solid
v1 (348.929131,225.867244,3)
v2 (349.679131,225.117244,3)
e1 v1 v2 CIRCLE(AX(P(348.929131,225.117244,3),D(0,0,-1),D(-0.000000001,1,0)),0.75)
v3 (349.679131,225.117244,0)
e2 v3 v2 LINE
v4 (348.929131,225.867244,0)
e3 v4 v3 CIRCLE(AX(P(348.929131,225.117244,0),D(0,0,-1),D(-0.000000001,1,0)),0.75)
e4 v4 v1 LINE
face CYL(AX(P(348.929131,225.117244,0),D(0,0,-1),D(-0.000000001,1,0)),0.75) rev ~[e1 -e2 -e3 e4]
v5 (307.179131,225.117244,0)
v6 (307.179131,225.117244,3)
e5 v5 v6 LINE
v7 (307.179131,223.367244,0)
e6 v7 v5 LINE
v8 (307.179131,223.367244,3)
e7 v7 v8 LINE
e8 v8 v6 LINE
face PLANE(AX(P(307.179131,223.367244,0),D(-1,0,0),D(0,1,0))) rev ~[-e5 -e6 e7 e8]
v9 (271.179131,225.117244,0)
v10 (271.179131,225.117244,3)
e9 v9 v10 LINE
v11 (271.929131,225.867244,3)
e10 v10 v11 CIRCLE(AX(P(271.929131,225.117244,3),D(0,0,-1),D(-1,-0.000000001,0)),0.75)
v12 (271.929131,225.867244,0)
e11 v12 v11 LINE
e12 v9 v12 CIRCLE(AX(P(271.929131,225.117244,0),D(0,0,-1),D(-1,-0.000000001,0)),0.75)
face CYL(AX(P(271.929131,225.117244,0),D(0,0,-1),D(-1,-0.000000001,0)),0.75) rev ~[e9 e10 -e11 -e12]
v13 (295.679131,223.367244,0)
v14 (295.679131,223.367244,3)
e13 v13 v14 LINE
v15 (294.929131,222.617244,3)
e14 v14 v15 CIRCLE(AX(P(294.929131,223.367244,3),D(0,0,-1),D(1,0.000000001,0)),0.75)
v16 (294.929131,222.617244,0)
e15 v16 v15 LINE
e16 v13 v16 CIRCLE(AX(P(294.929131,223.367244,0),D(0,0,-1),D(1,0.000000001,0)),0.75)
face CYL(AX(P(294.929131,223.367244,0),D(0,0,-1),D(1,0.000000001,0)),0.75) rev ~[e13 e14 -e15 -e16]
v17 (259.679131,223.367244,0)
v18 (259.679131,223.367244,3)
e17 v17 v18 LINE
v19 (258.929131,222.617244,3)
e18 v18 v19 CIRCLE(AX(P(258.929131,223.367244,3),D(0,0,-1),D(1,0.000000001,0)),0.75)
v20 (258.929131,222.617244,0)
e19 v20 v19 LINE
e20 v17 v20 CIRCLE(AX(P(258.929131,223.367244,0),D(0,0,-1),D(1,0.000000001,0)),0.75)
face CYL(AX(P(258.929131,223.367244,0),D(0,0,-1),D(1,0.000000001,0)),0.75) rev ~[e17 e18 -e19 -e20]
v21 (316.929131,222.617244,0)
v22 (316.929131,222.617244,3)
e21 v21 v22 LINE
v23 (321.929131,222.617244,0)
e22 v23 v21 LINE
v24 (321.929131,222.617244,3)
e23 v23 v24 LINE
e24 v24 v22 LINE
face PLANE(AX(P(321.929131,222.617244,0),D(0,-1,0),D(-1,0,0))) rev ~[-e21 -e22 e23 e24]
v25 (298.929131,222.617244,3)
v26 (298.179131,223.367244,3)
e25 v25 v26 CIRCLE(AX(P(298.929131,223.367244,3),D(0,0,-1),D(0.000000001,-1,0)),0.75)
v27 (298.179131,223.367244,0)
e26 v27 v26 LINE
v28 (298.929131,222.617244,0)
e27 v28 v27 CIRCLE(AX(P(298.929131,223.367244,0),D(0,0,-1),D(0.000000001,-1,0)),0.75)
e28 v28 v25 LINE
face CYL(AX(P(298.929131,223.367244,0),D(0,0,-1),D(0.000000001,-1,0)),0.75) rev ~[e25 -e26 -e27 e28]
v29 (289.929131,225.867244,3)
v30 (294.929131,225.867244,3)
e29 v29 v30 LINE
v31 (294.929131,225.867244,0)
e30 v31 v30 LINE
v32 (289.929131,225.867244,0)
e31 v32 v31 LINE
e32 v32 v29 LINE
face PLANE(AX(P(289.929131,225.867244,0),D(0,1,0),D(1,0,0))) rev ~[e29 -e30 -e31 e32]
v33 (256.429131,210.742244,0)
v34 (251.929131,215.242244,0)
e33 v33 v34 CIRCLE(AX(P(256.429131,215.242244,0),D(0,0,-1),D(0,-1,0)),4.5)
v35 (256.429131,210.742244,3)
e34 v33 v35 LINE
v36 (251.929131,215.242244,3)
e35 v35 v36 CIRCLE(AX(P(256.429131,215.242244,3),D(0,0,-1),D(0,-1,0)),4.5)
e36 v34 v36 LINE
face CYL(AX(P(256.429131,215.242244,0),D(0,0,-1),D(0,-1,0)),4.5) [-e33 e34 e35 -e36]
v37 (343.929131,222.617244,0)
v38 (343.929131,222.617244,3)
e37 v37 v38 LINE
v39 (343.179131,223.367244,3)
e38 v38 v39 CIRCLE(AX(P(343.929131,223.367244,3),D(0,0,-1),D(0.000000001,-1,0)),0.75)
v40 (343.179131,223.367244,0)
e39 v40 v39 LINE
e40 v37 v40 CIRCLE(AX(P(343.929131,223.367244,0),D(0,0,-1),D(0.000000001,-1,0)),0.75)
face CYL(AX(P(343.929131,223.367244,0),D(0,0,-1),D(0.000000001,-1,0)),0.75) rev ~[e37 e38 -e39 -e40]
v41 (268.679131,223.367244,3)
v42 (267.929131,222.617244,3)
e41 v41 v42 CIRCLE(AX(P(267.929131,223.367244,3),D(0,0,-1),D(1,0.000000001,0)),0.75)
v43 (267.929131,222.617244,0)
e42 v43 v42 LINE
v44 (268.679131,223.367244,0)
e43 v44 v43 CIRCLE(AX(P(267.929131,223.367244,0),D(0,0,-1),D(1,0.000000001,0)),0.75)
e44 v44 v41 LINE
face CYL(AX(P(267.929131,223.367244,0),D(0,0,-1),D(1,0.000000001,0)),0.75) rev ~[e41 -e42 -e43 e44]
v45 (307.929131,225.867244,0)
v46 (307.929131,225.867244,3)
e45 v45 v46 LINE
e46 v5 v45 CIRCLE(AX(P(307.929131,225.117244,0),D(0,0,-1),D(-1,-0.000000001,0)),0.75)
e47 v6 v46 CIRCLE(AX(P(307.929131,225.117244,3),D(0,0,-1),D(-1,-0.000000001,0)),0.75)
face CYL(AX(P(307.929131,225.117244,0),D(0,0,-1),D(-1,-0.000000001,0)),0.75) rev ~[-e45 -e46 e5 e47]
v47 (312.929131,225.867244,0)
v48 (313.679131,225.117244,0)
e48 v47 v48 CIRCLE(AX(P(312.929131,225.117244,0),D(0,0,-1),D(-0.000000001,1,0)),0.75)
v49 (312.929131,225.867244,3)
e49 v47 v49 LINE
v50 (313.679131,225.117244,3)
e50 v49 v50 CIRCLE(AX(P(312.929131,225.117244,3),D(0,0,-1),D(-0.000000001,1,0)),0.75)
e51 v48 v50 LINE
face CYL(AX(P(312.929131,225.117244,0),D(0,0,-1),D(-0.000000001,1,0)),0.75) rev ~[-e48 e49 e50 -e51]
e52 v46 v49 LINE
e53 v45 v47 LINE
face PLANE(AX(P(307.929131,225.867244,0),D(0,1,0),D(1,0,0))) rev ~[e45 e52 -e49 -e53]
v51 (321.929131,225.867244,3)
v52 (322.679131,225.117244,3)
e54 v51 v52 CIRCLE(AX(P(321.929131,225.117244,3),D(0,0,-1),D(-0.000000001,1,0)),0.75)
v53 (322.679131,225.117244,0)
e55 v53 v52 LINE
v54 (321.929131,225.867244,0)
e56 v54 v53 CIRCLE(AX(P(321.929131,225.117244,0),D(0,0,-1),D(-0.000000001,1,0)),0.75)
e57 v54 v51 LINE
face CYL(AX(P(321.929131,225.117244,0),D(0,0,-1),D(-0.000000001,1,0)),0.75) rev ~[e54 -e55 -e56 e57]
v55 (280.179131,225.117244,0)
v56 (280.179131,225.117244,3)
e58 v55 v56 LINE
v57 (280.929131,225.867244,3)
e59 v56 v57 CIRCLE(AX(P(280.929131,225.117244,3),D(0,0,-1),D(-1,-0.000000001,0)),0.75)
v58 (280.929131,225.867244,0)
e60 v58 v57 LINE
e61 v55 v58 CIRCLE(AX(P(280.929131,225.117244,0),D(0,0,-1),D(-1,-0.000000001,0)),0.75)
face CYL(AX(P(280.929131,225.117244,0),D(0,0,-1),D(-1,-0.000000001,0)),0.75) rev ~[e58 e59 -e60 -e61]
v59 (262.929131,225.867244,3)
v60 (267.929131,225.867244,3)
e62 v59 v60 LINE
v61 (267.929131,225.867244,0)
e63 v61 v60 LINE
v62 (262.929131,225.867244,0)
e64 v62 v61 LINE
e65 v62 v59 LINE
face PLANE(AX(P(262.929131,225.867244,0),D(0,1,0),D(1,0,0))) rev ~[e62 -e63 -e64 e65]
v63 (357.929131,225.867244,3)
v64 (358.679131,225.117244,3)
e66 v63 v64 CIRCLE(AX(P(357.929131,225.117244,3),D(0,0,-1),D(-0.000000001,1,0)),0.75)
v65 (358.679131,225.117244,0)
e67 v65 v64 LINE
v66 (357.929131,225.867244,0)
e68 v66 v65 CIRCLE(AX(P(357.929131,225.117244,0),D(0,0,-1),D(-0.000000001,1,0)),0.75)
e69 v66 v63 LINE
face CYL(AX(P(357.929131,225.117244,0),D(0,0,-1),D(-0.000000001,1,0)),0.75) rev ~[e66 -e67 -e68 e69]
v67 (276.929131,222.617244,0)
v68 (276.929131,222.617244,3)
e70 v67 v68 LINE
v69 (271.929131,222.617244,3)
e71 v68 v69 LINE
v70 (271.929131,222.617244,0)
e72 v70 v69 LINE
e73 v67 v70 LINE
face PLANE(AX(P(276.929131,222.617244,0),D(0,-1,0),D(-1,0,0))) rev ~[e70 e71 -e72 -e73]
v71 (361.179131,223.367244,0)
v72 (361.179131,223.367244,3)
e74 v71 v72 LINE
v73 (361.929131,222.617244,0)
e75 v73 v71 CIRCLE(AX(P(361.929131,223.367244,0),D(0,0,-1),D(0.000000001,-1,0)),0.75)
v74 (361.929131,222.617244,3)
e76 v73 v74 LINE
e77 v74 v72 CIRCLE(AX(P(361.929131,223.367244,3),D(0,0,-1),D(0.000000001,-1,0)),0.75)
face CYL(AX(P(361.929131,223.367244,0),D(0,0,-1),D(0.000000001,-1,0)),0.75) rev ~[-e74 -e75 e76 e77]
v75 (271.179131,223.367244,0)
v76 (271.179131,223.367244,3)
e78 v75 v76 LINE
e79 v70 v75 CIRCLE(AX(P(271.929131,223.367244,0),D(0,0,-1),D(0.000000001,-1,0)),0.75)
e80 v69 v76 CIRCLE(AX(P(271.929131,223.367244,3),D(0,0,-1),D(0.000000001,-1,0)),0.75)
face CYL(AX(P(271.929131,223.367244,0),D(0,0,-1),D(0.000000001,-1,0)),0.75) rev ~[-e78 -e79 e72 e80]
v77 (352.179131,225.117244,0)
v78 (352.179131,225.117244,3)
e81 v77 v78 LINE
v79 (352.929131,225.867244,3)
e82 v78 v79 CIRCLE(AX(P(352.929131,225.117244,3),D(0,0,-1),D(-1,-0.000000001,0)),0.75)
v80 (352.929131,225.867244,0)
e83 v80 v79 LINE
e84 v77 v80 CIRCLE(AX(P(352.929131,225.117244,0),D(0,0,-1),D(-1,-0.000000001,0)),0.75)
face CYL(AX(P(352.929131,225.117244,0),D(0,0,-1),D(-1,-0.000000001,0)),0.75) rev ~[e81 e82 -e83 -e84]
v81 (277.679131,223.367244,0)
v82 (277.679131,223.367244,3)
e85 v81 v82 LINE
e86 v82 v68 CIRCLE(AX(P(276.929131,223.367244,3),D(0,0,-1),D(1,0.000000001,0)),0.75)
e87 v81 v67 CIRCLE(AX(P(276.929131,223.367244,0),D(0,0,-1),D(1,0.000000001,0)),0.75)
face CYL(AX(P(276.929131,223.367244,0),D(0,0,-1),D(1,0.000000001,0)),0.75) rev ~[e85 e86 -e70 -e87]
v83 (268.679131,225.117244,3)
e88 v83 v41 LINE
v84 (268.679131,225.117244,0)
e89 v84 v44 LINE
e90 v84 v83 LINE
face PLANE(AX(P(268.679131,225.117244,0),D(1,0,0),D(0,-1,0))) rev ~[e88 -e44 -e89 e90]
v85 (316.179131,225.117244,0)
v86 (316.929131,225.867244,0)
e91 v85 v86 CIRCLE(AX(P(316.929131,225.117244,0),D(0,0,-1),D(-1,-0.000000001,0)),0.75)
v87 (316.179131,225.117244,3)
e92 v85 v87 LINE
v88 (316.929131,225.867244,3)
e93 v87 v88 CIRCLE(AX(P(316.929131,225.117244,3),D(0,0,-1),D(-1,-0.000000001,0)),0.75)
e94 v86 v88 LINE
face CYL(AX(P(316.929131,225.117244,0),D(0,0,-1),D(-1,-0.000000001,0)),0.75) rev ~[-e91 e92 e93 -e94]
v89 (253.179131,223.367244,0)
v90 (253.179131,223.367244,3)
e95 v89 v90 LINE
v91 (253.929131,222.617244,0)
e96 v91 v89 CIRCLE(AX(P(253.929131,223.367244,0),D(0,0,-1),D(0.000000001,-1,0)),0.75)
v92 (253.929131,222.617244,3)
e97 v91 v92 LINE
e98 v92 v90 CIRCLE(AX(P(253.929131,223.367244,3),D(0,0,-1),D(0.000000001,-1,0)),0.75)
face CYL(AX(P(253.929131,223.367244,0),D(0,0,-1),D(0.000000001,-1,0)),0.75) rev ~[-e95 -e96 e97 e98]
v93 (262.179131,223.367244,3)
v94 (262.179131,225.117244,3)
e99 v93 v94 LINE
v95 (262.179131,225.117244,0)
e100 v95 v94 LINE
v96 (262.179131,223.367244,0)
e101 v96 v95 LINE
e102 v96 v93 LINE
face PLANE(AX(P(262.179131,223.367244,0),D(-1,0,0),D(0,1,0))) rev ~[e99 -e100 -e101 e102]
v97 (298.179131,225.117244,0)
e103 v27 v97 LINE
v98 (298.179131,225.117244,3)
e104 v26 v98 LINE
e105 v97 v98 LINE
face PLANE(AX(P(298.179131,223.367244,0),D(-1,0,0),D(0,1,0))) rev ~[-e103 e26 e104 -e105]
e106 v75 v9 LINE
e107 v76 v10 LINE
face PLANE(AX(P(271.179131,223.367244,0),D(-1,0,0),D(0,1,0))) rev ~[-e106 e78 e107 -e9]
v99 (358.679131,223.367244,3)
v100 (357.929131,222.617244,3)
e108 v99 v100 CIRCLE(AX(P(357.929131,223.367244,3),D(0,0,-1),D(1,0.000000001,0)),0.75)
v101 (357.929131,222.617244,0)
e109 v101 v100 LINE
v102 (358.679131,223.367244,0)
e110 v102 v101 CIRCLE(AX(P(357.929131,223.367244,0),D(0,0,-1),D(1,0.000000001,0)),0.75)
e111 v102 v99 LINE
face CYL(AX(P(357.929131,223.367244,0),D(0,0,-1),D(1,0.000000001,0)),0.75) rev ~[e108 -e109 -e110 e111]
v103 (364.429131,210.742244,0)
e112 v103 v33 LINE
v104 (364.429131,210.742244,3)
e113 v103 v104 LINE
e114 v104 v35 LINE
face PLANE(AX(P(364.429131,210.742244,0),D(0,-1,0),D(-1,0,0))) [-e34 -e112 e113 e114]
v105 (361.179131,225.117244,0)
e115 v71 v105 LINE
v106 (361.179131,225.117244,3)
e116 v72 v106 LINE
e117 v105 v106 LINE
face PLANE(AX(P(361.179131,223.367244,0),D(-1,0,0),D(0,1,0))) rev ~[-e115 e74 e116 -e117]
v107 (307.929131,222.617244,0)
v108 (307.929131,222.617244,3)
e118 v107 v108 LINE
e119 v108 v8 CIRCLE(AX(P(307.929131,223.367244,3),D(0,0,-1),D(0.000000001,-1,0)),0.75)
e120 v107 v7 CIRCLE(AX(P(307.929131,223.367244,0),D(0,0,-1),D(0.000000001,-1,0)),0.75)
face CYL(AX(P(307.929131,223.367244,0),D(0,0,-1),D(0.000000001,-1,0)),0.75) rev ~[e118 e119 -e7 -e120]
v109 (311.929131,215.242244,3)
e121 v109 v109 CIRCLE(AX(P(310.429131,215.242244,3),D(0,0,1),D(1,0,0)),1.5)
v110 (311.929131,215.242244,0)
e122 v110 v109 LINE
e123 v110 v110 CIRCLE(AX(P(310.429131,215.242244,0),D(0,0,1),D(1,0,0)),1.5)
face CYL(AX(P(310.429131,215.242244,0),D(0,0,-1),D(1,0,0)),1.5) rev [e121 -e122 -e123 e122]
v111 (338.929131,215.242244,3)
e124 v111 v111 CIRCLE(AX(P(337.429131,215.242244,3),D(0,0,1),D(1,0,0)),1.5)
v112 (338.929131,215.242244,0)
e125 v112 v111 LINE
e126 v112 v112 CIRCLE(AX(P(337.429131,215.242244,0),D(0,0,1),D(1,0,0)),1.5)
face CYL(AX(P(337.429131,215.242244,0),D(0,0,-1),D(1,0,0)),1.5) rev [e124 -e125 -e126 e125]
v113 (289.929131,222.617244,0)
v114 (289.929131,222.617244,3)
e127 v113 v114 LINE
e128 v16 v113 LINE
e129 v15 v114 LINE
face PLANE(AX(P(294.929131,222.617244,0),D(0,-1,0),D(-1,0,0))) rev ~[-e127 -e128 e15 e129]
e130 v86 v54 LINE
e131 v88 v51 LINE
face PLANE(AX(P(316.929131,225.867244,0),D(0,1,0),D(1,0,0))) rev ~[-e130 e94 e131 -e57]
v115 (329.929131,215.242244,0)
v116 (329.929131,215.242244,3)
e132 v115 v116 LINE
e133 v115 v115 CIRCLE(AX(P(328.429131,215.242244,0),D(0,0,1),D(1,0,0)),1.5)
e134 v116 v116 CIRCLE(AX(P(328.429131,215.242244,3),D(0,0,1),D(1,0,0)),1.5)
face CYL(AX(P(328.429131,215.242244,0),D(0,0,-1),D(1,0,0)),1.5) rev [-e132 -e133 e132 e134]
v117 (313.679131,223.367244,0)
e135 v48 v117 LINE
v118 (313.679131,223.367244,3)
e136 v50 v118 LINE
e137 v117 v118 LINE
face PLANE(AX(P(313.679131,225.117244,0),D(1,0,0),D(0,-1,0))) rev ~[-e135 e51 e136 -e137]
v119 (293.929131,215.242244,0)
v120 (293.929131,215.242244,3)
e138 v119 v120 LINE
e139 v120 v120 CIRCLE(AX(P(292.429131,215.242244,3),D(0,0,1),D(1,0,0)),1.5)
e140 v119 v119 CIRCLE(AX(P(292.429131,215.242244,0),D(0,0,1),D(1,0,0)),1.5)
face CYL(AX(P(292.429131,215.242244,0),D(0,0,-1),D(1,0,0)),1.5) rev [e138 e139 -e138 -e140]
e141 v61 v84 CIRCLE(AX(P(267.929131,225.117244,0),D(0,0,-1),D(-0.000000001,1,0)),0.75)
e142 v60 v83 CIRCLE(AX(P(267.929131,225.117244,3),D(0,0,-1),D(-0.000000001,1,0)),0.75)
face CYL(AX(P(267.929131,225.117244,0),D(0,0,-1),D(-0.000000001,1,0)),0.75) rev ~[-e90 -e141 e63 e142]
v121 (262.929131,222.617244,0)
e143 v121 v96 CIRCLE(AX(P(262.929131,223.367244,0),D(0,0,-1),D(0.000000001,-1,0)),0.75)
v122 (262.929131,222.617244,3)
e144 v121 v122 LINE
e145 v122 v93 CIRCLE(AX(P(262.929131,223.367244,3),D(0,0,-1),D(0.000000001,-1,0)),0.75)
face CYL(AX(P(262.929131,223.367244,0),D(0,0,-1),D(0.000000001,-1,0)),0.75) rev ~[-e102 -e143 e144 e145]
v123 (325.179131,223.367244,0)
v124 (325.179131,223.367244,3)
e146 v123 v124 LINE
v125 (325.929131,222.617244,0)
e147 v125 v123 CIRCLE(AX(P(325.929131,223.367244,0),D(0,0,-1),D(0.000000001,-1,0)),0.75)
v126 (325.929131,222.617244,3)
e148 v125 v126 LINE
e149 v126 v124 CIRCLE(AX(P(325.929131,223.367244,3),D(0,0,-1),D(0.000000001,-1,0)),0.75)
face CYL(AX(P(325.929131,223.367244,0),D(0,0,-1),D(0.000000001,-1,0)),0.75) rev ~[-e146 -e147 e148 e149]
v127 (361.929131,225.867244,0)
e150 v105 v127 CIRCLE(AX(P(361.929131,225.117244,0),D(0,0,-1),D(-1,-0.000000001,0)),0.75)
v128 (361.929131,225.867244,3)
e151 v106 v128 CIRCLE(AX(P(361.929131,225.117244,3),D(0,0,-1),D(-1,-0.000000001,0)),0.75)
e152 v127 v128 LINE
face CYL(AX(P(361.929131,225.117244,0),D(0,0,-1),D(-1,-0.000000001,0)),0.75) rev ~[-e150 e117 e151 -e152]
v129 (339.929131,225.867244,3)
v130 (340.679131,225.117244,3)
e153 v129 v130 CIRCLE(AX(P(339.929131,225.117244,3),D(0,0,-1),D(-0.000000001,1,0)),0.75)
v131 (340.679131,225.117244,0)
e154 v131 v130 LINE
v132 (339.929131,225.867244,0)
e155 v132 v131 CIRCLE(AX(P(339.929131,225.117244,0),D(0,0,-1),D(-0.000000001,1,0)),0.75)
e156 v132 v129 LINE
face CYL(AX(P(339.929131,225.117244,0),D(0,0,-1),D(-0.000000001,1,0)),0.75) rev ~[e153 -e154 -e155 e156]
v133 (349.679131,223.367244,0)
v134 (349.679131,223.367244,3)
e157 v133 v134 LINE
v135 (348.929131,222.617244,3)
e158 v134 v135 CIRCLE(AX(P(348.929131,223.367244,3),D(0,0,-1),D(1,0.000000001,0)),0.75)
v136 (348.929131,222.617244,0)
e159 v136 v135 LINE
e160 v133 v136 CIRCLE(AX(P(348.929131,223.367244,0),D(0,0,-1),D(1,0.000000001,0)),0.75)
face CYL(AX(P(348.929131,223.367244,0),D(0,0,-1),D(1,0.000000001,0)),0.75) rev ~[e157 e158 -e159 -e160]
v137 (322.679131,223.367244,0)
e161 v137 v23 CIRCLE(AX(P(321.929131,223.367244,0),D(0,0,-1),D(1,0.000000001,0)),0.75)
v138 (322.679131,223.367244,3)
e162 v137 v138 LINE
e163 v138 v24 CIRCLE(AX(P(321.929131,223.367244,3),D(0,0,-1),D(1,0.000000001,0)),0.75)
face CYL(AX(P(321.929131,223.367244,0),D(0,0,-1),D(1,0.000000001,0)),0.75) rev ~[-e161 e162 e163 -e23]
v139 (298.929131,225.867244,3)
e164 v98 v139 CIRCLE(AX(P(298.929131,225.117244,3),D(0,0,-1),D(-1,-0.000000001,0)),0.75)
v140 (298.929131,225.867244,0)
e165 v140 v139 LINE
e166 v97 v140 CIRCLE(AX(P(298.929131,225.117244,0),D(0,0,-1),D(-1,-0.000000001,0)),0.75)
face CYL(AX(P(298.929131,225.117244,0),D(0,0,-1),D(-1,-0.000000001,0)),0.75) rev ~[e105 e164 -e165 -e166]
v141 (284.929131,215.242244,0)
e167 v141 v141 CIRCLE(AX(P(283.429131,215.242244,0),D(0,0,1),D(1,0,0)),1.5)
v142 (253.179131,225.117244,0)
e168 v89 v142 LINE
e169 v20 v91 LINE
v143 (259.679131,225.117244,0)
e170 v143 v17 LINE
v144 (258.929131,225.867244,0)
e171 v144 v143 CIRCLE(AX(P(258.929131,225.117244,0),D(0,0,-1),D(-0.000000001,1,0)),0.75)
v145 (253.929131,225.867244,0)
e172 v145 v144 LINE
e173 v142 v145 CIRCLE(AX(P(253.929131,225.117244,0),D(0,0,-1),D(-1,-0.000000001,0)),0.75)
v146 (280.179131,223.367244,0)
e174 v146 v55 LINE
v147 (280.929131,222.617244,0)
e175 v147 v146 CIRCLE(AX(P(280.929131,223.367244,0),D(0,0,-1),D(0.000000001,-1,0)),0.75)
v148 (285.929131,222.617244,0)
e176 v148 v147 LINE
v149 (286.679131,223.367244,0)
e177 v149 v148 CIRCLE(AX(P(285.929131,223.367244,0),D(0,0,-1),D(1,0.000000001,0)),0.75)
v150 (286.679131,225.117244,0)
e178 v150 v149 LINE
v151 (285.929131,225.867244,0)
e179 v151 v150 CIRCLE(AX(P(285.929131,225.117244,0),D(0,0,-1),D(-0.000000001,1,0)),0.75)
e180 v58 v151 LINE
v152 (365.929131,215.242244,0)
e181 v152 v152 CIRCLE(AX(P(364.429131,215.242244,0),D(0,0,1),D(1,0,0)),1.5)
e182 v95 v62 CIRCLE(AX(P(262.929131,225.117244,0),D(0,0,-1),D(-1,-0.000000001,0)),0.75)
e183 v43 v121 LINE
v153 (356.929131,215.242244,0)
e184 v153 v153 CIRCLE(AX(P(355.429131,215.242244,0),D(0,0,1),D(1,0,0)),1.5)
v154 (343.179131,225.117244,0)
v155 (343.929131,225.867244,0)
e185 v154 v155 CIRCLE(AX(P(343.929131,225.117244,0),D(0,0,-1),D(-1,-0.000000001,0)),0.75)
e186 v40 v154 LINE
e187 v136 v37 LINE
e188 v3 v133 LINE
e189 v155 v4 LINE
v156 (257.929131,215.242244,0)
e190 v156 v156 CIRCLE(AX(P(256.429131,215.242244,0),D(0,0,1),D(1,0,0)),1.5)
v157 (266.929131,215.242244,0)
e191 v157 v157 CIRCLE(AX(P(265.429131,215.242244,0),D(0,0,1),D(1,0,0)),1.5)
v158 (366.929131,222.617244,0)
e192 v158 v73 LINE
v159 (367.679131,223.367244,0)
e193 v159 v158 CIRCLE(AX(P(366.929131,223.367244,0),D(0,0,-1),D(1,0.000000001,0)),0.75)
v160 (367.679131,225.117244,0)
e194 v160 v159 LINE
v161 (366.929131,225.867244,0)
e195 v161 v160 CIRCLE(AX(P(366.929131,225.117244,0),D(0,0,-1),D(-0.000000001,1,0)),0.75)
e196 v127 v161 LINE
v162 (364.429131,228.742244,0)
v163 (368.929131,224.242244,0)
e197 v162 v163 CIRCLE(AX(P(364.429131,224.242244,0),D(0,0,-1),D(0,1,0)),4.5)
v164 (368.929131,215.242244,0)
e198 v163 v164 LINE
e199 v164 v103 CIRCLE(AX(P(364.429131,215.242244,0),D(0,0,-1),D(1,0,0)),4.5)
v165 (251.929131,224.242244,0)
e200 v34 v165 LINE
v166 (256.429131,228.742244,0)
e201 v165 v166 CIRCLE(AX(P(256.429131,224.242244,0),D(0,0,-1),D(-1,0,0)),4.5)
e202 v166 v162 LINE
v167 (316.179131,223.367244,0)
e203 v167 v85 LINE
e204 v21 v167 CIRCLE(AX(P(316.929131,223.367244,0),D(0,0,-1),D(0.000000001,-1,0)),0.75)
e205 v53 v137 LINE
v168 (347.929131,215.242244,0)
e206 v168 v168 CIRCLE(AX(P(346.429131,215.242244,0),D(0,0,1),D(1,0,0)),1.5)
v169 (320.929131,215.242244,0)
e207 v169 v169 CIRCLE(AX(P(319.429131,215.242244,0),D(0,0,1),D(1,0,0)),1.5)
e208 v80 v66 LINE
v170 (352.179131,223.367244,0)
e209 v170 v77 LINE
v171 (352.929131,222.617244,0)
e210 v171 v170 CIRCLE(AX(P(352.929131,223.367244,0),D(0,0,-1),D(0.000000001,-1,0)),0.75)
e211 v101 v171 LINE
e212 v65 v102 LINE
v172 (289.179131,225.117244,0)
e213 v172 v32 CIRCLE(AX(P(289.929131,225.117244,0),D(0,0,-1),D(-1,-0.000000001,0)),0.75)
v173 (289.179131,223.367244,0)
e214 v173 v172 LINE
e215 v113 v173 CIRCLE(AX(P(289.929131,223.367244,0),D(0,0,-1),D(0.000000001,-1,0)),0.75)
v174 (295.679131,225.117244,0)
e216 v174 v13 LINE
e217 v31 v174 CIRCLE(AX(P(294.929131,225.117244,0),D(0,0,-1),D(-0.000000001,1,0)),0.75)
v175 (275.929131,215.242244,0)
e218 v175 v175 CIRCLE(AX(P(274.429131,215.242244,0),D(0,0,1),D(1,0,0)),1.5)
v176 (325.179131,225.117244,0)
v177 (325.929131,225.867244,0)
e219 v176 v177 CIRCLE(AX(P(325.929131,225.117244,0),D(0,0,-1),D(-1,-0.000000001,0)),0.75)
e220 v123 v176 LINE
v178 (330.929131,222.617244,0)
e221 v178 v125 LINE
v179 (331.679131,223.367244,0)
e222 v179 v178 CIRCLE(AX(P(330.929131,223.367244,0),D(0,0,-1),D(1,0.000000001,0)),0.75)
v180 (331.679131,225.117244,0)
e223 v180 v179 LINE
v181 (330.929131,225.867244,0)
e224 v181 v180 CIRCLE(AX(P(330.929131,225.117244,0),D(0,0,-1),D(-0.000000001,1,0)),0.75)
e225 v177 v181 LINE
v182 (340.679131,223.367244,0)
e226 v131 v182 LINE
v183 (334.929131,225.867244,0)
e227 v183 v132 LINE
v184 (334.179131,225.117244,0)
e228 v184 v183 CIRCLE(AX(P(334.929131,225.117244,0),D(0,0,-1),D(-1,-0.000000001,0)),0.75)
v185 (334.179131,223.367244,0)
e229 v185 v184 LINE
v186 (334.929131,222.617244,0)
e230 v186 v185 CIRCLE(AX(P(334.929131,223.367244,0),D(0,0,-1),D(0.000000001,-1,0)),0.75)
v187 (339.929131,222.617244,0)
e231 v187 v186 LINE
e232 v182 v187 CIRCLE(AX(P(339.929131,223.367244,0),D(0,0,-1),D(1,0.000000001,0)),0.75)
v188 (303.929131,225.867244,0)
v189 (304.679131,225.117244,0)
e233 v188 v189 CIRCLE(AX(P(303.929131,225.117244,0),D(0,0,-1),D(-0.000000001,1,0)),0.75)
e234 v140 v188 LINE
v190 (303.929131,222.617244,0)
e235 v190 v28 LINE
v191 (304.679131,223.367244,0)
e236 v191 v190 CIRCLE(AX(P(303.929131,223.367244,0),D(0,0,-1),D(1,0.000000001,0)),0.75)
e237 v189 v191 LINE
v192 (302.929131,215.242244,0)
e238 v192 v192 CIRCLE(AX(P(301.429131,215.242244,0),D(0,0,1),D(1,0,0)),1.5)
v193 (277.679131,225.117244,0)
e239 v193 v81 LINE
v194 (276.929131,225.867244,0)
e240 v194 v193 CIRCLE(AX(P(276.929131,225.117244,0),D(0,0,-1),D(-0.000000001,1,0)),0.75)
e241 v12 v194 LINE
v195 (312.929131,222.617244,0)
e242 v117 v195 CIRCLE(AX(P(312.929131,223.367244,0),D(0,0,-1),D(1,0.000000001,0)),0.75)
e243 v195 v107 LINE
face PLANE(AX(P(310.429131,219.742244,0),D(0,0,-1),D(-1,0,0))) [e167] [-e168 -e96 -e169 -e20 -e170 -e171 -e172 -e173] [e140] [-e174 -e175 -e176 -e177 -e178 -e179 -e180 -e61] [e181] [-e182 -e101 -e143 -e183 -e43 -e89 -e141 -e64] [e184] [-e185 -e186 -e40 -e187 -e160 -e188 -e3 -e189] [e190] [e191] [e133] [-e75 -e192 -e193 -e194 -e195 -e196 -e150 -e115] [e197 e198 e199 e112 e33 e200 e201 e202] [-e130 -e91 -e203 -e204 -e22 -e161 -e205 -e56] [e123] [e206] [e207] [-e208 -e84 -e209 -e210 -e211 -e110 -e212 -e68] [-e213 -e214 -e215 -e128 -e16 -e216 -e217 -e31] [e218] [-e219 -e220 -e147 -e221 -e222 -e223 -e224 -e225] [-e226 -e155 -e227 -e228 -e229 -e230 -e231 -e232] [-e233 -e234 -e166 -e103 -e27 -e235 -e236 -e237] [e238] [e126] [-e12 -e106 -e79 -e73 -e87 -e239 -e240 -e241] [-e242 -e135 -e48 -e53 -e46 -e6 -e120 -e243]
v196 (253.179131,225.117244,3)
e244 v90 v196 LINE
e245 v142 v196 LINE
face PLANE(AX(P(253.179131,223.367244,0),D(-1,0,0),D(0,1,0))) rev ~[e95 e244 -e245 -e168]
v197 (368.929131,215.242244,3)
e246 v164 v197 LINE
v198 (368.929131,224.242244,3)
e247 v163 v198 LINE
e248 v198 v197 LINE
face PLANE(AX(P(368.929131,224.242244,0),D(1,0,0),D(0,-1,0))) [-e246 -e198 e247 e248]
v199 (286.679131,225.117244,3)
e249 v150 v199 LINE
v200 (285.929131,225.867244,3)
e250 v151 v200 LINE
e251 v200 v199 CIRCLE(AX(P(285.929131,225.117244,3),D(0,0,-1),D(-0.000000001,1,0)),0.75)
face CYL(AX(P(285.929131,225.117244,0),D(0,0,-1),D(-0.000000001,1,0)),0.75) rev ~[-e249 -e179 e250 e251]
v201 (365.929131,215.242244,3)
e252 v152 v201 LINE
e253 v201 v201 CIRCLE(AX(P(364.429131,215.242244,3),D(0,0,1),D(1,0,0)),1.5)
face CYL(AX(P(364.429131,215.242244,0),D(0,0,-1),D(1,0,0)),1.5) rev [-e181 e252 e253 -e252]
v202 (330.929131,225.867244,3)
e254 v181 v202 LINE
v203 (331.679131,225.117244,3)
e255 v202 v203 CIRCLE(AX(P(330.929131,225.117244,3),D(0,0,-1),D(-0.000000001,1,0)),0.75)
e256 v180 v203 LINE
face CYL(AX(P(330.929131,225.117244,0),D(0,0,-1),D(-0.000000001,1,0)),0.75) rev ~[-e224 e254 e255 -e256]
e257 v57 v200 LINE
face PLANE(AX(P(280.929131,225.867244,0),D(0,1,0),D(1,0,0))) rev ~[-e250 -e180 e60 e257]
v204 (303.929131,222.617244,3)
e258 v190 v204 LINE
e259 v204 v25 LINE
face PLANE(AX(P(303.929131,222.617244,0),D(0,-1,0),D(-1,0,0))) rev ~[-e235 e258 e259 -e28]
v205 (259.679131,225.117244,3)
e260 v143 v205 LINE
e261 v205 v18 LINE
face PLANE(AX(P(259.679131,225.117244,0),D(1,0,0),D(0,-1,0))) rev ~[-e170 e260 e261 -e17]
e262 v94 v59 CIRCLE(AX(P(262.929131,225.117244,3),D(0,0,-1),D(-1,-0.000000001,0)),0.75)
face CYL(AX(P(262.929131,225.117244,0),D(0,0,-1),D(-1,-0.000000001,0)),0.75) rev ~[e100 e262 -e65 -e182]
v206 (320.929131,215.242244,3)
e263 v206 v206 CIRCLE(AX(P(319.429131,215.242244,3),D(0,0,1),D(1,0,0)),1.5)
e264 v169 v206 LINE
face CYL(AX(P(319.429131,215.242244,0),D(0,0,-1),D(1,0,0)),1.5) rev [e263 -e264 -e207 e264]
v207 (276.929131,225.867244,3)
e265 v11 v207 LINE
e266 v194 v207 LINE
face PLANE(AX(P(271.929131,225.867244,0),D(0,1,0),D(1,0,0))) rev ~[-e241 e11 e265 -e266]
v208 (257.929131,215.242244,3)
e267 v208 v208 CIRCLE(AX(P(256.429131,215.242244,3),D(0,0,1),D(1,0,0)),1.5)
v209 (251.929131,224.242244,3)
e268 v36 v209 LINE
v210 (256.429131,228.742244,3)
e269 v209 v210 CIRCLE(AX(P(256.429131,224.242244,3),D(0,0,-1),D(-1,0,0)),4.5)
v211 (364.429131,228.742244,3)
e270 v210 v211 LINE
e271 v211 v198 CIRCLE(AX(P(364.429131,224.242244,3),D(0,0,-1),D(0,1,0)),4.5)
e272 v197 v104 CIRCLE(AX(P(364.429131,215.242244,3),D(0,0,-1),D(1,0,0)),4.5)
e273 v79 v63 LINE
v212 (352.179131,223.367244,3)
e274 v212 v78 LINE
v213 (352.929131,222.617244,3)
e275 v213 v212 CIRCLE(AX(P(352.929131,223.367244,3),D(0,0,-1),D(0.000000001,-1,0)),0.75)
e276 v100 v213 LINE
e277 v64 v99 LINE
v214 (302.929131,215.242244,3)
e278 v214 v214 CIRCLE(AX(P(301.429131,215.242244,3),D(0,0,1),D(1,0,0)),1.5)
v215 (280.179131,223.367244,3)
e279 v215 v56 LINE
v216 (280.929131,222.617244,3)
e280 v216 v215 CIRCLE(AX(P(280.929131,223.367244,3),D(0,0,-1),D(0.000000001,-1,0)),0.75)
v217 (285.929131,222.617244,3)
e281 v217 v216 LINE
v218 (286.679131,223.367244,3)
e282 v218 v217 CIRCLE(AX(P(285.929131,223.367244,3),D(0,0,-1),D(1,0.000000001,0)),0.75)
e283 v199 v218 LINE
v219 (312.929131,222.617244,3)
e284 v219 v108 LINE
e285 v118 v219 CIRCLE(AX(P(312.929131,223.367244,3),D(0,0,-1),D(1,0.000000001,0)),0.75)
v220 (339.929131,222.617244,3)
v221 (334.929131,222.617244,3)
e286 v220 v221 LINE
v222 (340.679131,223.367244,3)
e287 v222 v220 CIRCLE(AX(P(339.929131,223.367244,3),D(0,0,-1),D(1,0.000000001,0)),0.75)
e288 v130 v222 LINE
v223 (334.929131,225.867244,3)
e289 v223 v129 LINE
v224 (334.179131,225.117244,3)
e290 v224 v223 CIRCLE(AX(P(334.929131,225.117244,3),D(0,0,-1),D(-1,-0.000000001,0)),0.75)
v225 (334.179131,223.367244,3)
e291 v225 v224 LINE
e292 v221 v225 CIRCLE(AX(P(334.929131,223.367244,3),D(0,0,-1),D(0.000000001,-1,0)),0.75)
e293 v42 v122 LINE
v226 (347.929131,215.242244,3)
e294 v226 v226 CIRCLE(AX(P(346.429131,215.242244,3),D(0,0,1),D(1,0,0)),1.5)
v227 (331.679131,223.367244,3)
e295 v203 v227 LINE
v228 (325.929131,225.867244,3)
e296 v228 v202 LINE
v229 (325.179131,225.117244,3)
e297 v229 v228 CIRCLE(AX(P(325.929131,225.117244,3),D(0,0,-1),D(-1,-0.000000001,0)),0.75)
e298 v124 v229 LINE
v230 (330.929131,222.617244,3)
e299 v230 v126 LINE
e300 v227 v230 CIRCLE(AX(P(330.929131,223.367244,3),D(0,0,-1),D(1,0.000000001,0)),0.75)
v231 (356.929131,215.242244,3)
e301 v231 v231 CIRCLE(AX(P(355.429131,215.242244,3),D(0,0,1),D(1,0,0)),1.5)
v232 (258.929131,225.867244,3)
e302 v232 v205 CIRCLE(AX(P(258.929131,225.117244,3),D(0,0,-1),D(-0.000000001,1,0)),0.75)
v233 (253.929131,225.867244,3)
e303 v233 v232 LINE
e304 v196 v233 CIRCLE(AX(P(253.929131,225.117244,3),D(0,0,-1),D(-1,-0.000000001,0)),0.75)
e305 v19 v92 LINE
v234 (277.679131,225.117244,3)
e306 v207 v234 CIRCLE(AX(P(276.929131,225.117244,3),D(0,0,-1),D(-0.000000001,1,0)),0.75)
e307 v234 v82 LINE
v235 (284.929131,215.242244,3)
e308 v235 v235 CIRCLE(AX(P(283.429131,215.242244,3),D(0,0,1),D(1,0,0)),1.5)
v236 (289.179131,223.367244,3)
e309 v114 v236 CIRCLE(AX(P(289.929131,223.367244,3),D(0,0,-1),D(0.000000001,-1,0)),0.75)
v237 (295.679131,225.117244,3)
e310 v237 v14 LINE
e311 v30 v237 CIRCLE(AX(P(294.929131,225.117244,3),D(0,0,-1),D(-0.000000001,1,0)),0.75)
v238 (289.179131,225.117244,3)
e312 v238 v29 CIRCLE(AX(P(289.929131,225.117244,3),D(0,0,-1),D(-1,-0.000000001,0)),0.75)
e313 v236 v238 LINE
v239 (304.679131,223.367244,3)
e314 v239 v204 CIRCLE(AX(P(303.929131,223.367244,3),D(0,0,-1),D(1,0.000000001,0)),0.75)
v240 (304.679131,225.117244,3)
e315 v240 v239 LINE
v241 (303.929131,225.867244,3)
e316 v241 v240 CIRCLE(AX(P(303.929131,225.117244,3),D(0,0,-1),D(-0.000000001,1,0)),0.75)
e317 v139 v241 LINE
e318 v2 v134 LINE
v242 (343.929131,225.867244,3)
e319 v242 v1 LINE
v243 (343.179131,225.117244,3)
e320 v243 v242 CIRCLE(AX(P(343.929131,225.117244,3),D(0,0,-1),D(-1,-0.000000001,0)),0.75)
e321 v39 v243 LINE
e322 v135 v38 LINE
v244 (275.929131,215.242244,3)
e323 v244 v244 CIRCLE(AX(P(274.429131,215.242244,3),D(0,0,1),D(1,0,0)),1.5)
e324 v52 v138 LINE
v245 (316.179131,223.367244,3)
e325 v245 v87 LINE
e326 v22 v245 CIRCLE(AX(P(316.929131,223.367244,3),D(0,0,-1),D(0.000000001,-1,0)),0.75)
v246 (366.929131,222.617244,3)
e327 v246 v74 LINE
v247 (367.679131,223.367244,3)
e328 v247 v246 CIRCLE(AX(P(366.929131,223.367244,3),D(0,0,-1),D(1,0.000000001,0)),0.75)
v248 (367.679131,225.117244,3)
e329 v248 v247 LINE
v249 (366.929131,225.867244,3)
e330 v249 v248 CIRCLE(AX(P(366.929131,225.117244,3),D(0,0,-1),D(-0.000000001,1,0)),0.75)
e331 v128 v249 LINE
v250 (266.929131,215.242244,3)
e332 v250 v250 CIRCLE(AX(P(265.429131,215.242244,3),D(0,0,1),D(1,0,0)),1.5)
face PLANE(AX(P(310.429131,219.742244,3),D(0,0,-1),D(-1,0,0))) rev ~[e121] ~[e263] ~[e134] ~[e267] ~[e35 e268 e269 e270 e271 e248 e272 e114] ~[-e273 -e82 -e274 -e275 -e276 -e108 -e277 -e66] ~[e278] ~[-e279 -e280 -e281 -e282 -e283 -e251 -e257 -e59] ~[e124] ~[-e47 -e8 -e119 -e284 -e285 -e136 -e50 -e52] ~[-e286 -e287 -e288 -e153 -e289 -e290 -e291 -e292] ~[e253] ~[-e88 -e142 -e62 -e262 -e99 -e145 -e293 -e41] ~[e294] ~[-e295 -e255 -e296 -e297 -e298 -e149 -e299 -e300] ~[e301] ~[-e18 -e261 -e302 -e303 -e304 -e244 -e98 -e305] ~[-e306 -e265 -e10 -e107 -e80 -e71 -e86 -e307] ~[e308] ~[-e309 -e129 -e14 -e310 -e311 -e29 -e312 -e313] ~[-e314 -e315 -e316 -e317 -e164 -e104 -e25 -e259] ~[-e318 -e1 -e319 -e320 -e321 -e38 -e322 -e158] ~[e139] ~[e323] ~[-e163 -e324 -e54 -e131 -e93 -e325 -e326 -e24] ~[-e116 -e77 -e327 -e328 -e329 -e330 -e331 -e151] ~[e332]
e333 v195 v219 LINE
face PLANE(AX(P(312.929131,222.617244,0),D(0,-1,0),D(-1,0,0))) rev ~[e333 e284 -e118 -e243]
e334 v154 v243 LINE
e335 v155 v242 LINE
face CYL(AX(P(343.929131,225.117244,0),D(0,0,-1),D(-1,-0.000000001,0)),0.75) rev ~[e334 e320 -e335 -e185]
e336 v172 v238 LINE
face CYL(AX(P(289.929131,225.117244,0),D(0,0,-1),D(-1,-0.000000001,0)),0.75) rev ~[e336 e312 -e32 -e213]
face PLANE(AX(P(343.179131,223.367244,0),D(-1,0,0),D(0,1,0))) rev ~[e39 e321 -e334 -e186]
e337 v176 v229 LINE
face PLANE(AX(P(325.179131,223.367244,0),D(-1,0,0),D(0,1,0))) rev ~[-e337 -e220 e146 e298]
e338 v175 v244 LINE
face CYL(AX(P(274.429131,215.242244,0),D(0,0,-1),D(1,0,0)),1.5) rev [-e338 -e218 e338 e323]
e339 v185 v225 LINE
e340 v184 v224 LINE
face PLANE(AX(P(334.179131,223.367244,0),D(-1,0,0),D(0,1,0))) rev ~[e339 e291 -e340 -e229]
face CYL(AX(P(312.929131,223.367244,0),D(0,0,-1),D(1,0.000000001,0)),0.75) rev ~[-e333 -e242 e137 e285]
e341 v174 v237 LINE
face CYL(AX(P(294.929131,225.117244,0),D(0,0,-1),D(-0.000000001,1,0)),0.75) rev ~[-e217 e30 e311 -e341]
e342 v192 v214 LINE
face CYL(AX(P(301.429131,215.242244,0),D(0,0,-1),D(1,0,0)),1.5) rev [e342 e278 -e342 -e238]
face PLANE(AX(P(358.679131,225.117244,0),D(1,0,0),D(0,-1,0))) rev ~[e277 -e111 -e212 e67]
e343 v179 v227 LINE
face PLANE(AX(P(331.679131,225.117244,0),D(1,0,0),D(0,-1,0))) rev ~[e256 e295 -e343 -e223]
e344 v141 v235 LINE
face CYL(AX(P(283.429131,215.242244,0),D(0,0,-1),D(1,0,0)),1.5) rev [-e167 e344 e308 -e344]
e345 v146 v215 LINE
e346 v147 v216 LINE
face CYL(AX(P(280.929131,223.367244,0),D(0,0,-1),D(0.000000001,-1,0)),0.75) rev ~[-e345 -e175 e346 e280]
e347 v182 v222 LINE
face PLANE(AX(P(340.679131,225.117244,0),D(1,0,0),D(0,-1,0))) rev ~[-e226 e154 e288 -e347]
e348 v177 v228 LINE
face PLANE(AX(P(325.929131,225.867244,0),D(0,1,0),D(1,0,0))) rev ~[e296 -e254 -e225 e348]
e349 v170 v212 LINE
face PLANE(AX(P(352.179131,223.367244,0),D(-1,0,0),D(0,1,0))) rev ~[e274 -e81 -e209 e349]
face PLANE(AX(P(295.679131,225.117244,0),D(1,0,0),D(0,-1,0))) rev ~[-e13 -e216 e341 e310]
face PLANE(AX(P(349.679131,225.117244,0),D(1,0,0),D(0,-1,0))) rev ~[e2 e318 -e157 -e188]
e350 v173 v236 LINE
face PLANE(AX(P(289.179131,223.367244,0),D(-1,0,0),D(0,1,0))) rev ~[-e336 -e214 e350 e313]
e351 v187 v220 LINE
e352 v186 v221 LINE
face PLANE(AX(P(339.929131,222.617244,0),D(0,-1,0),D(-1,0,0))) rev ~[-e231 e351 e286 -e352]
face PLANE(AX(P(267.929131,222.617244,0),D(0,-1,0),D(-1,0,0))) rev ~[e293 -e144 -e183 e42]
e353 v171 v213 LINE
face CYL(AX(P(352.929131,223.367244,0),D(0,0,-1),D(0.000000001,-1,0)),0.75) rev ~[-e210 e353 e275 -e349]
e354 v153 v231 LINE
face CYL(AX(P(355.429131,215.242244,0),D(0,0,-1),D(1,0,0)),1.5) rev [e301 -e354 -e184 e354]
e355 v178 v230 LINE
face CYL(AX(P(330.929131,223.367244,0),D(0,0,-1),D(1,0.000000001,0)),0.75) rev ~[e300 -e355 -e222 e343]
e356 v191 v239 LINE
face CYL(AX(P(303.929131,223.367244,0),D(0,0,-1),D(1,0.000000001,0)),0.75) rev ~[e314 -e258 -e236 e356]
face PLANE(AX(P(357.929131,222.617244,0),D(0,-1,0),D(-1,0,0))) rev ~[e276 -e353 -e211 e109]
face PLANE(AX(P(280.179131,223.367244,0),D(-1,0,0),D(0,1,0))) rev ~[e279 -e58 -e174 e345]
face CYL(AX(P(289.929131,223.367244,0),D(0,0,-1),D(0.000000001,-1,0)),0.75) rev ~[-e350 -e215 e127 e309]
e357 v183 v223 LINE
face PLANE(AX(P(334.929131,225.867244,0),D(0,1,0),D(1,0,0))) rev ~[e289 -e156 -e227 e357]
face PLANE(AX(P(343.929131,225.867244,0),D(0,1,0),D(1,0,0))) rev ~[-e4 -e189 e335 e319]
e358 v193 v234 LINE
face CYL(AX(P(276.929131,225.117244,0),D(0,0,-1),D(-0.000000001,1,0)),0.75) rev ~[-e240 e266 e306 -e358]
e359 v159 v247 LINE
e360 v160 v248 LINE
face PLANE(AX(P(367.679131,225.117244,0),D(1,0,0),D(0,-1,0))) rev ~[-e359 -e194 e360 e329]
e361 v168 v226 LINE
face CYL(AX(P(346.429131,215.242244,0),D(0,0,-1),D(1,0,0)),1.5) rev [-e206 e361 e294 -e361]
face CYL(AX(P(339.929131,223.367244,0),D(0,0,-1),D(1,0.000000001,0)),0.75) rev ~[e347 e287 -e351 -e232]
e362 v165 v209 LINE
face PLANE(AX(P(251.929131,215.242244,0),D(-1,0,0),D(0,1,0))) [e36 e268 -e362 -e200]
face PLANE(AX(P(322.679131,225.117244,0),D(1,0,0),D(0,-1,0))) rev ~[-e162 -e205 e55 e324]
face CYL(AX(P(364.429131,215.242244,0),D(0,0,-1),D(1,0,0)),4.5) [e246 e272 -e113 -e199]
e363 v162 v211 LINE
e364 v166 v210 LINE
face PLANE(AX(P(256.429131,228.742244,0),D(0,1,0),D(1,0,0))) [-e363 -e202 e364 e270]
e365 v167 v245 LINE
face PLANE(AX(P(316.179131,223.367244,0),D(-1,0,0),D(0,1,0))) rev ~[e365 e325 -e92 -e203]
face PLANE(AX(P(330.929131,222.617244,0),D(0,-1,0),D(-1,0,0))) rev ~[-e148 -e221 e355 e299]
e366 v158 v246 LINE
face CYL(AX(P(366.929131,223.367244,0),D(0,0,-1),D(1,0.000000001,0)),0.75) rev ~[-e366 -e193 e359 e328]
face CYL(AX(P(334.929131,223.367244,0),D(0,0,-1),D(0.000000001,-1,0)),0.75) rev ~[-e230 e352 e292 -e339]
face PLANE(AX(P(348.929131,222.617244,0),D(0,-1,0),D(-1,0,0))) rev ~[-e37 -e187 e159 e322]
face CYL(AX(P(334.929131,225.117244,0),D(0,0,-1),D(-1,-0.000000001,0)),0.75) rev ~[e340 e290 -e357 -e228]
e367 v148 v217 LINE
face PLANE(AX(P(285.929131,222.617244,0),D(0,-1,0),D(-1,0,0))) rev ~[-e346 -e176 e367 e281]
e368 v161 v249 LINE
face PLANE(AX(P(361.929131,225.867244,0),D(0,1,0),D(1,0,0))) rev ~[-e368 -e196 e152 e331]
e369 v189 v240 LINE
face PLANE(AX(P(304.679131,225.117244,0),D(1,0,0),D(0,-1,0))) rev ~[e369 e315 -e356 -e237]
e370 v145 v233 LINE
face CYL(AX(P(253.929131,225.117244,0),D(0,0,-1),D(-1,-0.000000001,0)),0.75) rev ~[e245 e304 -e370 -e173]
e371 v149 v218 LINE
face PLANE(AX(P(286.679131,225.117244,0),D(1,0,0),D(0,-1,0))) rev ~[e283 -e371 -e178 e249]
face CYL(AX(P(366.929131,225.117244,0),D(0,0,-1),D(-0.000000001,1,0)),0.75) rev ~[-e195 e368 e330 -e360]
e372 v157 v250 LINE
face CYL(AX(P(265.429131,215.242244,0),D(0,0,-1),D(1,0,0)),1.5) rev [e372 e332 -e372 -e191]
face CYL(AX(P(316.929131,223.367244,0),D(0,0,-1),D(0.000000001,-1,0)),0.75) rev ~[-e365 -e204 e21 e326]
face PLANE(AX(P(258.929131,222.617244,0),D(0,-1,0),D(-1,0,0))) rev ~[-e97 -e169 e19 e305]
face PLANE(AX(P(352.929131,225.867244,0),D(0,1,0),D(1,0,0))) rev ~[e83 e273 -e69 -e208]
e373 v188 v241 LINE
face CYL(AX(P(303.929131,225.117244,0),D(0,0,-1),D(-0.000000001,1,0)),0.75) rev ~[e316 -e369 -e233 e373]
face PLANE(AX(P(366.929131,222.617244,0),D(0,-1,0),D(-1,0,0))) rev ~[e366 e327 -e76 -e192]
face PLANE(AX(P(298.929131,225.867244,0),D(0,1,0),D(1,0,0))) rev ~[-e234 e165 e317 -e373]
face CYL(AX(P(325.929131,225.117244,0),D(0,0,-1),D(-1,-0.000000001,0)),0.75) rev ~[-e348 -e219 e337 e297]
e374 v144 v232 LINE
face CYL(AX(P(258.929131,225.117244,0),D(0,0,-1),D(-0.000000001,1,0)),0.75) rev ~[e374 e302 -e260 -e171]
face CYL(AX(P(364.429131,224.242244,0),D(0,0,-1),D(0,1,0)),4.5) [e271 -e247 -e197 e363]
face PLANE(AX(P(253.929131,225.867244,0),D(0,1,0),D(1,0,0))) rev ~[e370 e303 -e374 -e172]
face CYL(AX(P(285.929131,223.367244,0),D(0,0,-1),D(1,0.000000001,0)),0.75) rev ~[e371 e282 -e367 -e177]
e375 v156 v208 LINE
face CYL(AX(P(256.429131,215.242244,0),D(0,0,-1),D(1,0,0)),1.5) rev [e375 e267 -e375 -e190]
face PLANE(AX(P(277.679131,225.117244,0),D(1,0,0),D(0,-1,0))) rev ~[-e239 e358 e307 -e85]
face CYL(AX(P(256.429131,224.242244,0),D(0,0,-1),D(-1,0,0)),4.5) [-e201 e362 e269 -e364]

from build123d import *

# Parameters (mm, degrees)
MODEL_R                 = 1.5
SALIENTE_EXTRUIR1_DEPTH = 3


with BuildPart() as part:
    # Model → Saliente-Extruir1 (new body)
    with BuildSketch(Plane.XY):
        with BuildLine():
            Line((256.429131311, 228.742243614), (364.429131311, 228.742243614))
            ThreePointArc((364.429131311, 228.742243614), (367.611111826, 227.424224129), (368.929131311, 224.242243614))
            Line((368.929131311, 224.242243614), (368.929131311, 215.242243614))
            ThreePointArc((368.929131311, 215.242243614), (367.611111826, 212.060263099), (364.429131311, 210.742243614))
            Line((364.429131311, 210.742243614), (256.429131311, 210.742243614))
            ThreePointArc((256.429131311, 210.742243614), (253.247150795, 212.060263099), (251.929131311, 215.242243614))
            Line((251.929131311, 215.242243614), (251.929131311, 224.242243614))
            ThreePointArc((251.929131311, 224.242243614), (253.247150795, 227.424224129), (256.429131311, 228.742243614))
        make_face()
        with Locations((337.429131311, 215.242243614)):
            Circle(MODEL_R, mode=Mode.SUBTRACT)
        with Locations((319.429131311, 215.242243614)):
            Circle(MODEL_R, mode=Mode.SUBTRACT)
        with Locations((328.429131311, 215.242243614)):
            Circle(MODEL_R, mode=Mode.SUBTRACT)
        with Locations((310.429131311, 215.242243614)):
            Circle(MODEL_R, mode=Mode.SUBTRACT)
        with Locations((292.429131311, 215.242243614)):
            Circle(MODEL_R, mode=Mode.SUBTRACT)
        with Locations((301.429131311, 215.242243614)):
            Circle(MODEL_R, mode=Mode.SUBTRACT)
        with Locations((274.429131311, 215.242243614)):
            Circle(MODEL_R, mode=Mode.SUBTRACT)
        with Locations((283.429131311, 215.242243614)):
            Circle(MODEL_R, mode=Mode.SUBTRACT)
        with Locations((265.429131311, 215.242243614)):
            Circle(MODEL_R, mode=Mode.SUBTRACT)
        with Locations((256.429131311, 215.242243614)):
            Circle(MODEL_R, mode=Mode.SUBTRACT)
        with Locations((346.429131311, 215.242243614)):
            Circle(MODEL_R, mode=Mode.SUBTRACT)
        with Locations((355.429131311, 215.242243614)):
            Circle(MODEL_R, mode=Mode.SUBTRACT)
        with Locations((364.429131311, 215.242243614)):
            Circle(MODEL_R, mode=Mode.SUBTRACT)
        with BuildLine():
            Line((267.929131311, 222.617243614), (262.929131311, 222.617243614))
            ThreePointArc((262.929131311, 222.617243614), (262.398801225, 222.836913528), (262.179131311, 223.367243614))
            Line((262.179131311, 223.367243614), (262.179131311, 225.117243614))
            ThreePointArc((262.179131311, 225.117243614), (262.398801225, 225.6475737), (262.929131311, 225.867243614))
            Line((262.929131311, 225.867243614), (267.929131311, 225.867243614))
            ThreePointArc((267.929131311, 225.867243614), (268.459461397, 225.6475737), (268.679131311, 225.117243614))
            Line((268.679131311, 225.117243614), (268.679131311, 223.367243614))
            ThreePointArc((268.679131311, 223.367243614), (268.459461397, 222.836913528), (267.929131311, 222.617243614))
        make_face(mode=Mode.SUBTRACT)
        with BuildLine():
            Line((285.929131311, 222.617243614), (280.929131311, 222.617243614))
            ThreePointArc((280.929131311, 222.617243614), (280.398801225, 222.836913528), (280.179131311, 223.367243614))
            Line((280.179131311, 223.367243614), (280.179131311, 225.117243614))
            ThreePointArc((280.179131311, 225.117243614), (280.398801225, 225.6475737), (280.929131311, 225.867243614))
            Line((280.929131311, 225.867243614), (285.929131311, 225.867243614))
            ThreePointArc((285.929131311, 225.867243614), (286.459461397, 225.6475737), (286.679131311, 225.117243614))
            Line((286.679131311, 225.117243614), (286.679131311, 223.367243614))
            ThreePointArc((286.679131311, 223.367243614), (286.459461397, 222.836913528), (285.929131311, 222.617243614))
        make_face(mode=Mode.SUBTRACT)
        with BuildLine():
            Line((258.929131311, 222.617243614), (253.929131311, 222.617243614))
            ThreePointArc((253.929131311, 222.617243614), (253.398801225, 222.836913528), (253.179131311, 223.367243614))
            Line((253.179131311, 223.367243614), (253.179131311, 225.117243614))
            ThreePointArc((253.179131311, 225.117243614), (253.398801225, 225.6475737), (253.929131311, 225.867243614))
            Line((253.929131311, 225.867243614), (258.929131311, 225.867243614))
            ThreePointArc((258.929131311, 225.867243614), (259.459461397, 225.6475737), (259.679131311, 225.117243614))
            Line((259.679131311, 225.117243614), (259.679131311, 223.367243614))
            ThreePointArc((259.679131311, 223.367243614), (259.459461397, 222.836913528), (258.929131311, 222.617243614))
        make_face(mode=Mode.SUBTRACT)
        with BuildLine():
            Line((276.929131311, 222.617243614), (271.929131311, 222.617243614))
            ThreePointArc((271.929131311, 222.617243614), (271.398801225, 222.836913528), (271.179131311, 223.367243614))
            Line((271.179131311, 223.367243614), (271.179131311, 225.117243614))
            ThreePointArc((271.179131311, 225.117243614), (271.398801225, 225.6475737), (271.929131311, 225.867243614))
            Line((271.929131311, 225.867243614), (276.929131311, 225.867243614))
            ThreePointArc((276.929131311, 225.867243614), (277.459461397, 225.6475737), (277.679131311, 225.117243614))
            Line((277.679131311, 225.117243614), (277.679131311, 223.367243614))
            ThreePointArc((277.679131311, 223.367243614), (277.459461397, 222.836913528), (276.929131311, 222.617243614))
        make_face(mode=Mode.SUBTRACT)
        with BuildLine():
            Line((294.929131311, 222.617243614), (289.929131311, 222.617243614))
            ThreePointArc((289.929131311, 222.617243614), (289.398801225, 222.836913528), (289.179131311, 223.367243614))
            Line((289.179131311, 223.367243614), (289.179131311, 225.117243614))
            ThreePointArc((289.179131311, 225.117243614), (289.398801225, 225.6475737), (289.929131311, 225.867243614))
            Line((289.929131311, 225.867243614), (294.929131311, 225.867243614))
            ThreePointArc((294.929131311, 225.867243614), (295.459461397, 225.6475737), (295.679131311, 225.117243614))
            Line((295.679131311, 225.117243614), (295.679131311, 223.367243614))
            ThreePointArc((295.679131311, 223.367243614), (295.459461397, 222.836913528), (294.929131311, 222.617243614))
        make_face(mode=Mode.SUBTRACT)
        with BuildLine():
            Line((303.929131311, 222.617243614), (298.929131311, 222.617243614))
            ThreePointArc((298.929131311, 222.617243614), (298.398801225, 222.836913528), (298.179131311, 223.367243614))
            Line((298.179131311, 223.367243614), (298.179131311, 225.117243614))
            ThreePointArc((298.179131311, 225.117243614), (298.398801225, 225.6475737), (298.929131311, 225.867243614))
            Line((298.929131311, 225.867243614), (303.929131311, 225.867243614))
            ThreePointArc((303.929131311, 225.867243614), (304.459461397, 225.6475737), (304.679131311, 225.117243614))
            Line((304.679131311, 225.117243614), (304.679131311, 223.367243614))
            ThreePointArc((304.679131311, 223.367243614), (304.459461397, 222.836913528), (303.929131311, 222.617243614))
        make_face(mode=Mode.SUBTRACT)
        with BuildLine():
            Line((321.929131311, 222.617243614), (316.929131311, 222.617243614))
            ThreePointArc((316.929131311, 222.617243614), (316.398801225, 222.836913528), (316.179131311, 223.367243614))
            Line((316.179131311, 223.367243614), (316.179131311, 225.117243614))
            ThreePointArc((316.179131311, 225.117243614), (316.398801225, 225.6475737), (316.929131311, 225.867243614))
            Line((316.929131311, 225.867243614), (321.929131311, 225.867243614))
            ThreePointArc((321.929131311, 225.867243614), (322.459461397, 225.6475737), (322.679131311, 225.117243614))
            Line((322.679131311, 225.117243614), (322.679131311, 223.367243614))
            ThreePointArc((322.679131311, 223.367243614), (322.459461397, 222.836913528), (321.929131311, 222.617243614))
        make_face(mode=Mode.SUBTRACT)
        with BuildLine():
            Line((312.929131311, 222.617243614), (307.929131311, 222.617243614))
            ThreePointArc((307.929131311, 222.617243614), (307.398801225, 222.836913528), (307.179131311, 223.367243614))
            Line((307.179131311, 223.367243614), (307.179131311, 225.117243614))
            ThreePointArc((307.179131311, 225.117243614), (307.398801225, 225.6475737), (307.929131311, 225.867243614))
            Line((307.929131311, 225.867243614), (312.929131311, 225.867243614))
            ThreePointArc((312.929131311, 225.867243614), (313.459461397, 225.6475737), (313.679131311, 225.117243614))
            Line((313.679131311, 225.117243614), (313.679131311, 223.367243614))
            ThreePointArc((313.679131311, 223.367243614), (313.459461397, 222.836913528), (312.929131311, 222.617243614))
        make_face(mode=Mode.SUBTRACT)
        with BuildLine():
            Line((357.929131311, 222.617243614), (352.929131311, 222.617243614))
            ThreePointArc((352.929131311, 222.617243614), (352.398801225, 222.836913528), (352.179131311, 223.367243614))
            Line((352.179131311, 223.367243614), (352.179131311, 225.117243614))
            ThreePointArc((352.179131311, 225.117243614), (352.398801225, 225.6475737), (352.929131311, 225.867243614))
            Line((352.929131311, 225.867243614), (357.929131311, 225.867243614))
            ThreePointArc((357.929131311, 225.867243614), (358.459461397, 225.6475737), (358.679131311, 225.117243614))
            Line((358.679131311, 225.117243614), (358.679131311, 223.367243614))
            ThreePointArc((358.679131311, 223.367243614), (358.459461397, 222.836913528), (357.929131311, 222.617243614))
        make_face(mode=Mode.SUBTRACT)
        with BuildLine():
            Line((348.929131311, 222.617243614), (343.929131311, 222.617243614))
            ThreePointArc((343.929131311, 222.617243614), (343.398801225, 222.836913528), (343.179131311, 223.367243614))
            Line((343.179131311, 223.367243614), (343.179131311, 225.117243614))
            ThreePointArc((343.179131311, 225.117243614), (343.398801225, 225.6475737), (343.929131311, 225.867243614))
            Line((343.929131311, 225.867243614), (348.929131311, 225.867243614))
            ThreePointArc((348.929131311, 225.867243614), (349.459461397, 225.6475737), (349.679131311, 225.117243614))
            Line((349.679131311, 225.117243614), (349.679131311, 223.367243614))
            ThreePointArc((349.679131311, 223.367243614), (349.459461397, 222.836913528), (348.929131311, 222.617243614))
        make_face(mode=Mode.SUBTRACT)
        with BuildLine():
            Line((339.929131311, 222.617243614), (334.929131311, 222.617243614))
            ThreePointArc((334.929131311, 222.617243614), (334.398801225, 222.836913528), (334.179131311, 223.367243614))
            Line((334.179131311, 223.367243614), (334.179131311, 225.117243614))
            ThreePointArc((334.179131311, 225.117243614), (334.398801225, 225.6475737), (334.929131311, 225.867243614))
            Line((334.929131311, 225.867243614), (339.929131311, 225.867243614))
            ThreePointArc((339.929131311, 225.867243614), (340.459461397, 225.6475737), (340.679131311, 225.117243614))
            Line((340.679131311, 225.117243614), (340.679131311, 223.367243614))
            ThreePointArc((340.679131311, 223.367243614), (340.459461397, 222.836913528), (339.929131311, 222.617243614))
        make_face(mode=Mode.SUBTRACT)
        with BuildLine():
            Line((330.929131311, 222.617243614), (325.929131311, 222.617243614))
            ThreePointArc((325.929131311, 222.617243614), (325.398801225, 222.836913528), (325.179131311, 223.367243614))
            Line((325.179131311, 223.367243614), (325.179131311, 225.117243614))
            ThreePointArc((325.179131311, 225.117243614), (325.398801225, 225.6475737), (325.929131311, 225.867243614))
            Line((325.929131311, 225.867243614), (330.929131311, 225.867243614))
            ThreePointArc((330.929131311, 225.867243614), (331.459461397, 225.6475737), (331.679131311, 225.117243614))
            Line((331.679131311, 225.117243614), (331.679131311, 223.367243614))
            ThreePointArc((331.679131311, 223.367243614), (331.459461397, 222.836913528), (330.929131311, 222.617243614))
        make_face(mode=Mode.SUBTRACT)
        with BuildLine():
            Line((366.929131311, 222.617243614), (361.929131311, 222.617243614))
            ThreePointArc((361.929131311, 222.617243614), (361.398801225, 222.836913528), (361.179131311, 223.367243614))
            Line((361.179131311, 223.367243614), (361.179131311, 225.117243614))
            ThreePointArc((361.179131311, 225.117243614), (361.398801225, 225.6475737), (361.929131311, 225.867243614))
            Line((361.929131311, 225.867243614), (366.929131311, 225.867243614))
            ThreePointArc((366.929131311, 225.867243614), (367.459461397, 225.6475737), (367.679131311, 225.117243614))
            Line((367.679131311, 225.117243614), (367.679131311, 223.367243614))
            ThreePointArc((367.679131311, 223.367243614), (367.459461397, 222.836913528), (366.929131311, 222.617243614))
        make_face(mode=Mode.SUBTRACT)
    extrude(amount=SALIENTE_EXTRUIR1_DEPTH)


solid = part.part
